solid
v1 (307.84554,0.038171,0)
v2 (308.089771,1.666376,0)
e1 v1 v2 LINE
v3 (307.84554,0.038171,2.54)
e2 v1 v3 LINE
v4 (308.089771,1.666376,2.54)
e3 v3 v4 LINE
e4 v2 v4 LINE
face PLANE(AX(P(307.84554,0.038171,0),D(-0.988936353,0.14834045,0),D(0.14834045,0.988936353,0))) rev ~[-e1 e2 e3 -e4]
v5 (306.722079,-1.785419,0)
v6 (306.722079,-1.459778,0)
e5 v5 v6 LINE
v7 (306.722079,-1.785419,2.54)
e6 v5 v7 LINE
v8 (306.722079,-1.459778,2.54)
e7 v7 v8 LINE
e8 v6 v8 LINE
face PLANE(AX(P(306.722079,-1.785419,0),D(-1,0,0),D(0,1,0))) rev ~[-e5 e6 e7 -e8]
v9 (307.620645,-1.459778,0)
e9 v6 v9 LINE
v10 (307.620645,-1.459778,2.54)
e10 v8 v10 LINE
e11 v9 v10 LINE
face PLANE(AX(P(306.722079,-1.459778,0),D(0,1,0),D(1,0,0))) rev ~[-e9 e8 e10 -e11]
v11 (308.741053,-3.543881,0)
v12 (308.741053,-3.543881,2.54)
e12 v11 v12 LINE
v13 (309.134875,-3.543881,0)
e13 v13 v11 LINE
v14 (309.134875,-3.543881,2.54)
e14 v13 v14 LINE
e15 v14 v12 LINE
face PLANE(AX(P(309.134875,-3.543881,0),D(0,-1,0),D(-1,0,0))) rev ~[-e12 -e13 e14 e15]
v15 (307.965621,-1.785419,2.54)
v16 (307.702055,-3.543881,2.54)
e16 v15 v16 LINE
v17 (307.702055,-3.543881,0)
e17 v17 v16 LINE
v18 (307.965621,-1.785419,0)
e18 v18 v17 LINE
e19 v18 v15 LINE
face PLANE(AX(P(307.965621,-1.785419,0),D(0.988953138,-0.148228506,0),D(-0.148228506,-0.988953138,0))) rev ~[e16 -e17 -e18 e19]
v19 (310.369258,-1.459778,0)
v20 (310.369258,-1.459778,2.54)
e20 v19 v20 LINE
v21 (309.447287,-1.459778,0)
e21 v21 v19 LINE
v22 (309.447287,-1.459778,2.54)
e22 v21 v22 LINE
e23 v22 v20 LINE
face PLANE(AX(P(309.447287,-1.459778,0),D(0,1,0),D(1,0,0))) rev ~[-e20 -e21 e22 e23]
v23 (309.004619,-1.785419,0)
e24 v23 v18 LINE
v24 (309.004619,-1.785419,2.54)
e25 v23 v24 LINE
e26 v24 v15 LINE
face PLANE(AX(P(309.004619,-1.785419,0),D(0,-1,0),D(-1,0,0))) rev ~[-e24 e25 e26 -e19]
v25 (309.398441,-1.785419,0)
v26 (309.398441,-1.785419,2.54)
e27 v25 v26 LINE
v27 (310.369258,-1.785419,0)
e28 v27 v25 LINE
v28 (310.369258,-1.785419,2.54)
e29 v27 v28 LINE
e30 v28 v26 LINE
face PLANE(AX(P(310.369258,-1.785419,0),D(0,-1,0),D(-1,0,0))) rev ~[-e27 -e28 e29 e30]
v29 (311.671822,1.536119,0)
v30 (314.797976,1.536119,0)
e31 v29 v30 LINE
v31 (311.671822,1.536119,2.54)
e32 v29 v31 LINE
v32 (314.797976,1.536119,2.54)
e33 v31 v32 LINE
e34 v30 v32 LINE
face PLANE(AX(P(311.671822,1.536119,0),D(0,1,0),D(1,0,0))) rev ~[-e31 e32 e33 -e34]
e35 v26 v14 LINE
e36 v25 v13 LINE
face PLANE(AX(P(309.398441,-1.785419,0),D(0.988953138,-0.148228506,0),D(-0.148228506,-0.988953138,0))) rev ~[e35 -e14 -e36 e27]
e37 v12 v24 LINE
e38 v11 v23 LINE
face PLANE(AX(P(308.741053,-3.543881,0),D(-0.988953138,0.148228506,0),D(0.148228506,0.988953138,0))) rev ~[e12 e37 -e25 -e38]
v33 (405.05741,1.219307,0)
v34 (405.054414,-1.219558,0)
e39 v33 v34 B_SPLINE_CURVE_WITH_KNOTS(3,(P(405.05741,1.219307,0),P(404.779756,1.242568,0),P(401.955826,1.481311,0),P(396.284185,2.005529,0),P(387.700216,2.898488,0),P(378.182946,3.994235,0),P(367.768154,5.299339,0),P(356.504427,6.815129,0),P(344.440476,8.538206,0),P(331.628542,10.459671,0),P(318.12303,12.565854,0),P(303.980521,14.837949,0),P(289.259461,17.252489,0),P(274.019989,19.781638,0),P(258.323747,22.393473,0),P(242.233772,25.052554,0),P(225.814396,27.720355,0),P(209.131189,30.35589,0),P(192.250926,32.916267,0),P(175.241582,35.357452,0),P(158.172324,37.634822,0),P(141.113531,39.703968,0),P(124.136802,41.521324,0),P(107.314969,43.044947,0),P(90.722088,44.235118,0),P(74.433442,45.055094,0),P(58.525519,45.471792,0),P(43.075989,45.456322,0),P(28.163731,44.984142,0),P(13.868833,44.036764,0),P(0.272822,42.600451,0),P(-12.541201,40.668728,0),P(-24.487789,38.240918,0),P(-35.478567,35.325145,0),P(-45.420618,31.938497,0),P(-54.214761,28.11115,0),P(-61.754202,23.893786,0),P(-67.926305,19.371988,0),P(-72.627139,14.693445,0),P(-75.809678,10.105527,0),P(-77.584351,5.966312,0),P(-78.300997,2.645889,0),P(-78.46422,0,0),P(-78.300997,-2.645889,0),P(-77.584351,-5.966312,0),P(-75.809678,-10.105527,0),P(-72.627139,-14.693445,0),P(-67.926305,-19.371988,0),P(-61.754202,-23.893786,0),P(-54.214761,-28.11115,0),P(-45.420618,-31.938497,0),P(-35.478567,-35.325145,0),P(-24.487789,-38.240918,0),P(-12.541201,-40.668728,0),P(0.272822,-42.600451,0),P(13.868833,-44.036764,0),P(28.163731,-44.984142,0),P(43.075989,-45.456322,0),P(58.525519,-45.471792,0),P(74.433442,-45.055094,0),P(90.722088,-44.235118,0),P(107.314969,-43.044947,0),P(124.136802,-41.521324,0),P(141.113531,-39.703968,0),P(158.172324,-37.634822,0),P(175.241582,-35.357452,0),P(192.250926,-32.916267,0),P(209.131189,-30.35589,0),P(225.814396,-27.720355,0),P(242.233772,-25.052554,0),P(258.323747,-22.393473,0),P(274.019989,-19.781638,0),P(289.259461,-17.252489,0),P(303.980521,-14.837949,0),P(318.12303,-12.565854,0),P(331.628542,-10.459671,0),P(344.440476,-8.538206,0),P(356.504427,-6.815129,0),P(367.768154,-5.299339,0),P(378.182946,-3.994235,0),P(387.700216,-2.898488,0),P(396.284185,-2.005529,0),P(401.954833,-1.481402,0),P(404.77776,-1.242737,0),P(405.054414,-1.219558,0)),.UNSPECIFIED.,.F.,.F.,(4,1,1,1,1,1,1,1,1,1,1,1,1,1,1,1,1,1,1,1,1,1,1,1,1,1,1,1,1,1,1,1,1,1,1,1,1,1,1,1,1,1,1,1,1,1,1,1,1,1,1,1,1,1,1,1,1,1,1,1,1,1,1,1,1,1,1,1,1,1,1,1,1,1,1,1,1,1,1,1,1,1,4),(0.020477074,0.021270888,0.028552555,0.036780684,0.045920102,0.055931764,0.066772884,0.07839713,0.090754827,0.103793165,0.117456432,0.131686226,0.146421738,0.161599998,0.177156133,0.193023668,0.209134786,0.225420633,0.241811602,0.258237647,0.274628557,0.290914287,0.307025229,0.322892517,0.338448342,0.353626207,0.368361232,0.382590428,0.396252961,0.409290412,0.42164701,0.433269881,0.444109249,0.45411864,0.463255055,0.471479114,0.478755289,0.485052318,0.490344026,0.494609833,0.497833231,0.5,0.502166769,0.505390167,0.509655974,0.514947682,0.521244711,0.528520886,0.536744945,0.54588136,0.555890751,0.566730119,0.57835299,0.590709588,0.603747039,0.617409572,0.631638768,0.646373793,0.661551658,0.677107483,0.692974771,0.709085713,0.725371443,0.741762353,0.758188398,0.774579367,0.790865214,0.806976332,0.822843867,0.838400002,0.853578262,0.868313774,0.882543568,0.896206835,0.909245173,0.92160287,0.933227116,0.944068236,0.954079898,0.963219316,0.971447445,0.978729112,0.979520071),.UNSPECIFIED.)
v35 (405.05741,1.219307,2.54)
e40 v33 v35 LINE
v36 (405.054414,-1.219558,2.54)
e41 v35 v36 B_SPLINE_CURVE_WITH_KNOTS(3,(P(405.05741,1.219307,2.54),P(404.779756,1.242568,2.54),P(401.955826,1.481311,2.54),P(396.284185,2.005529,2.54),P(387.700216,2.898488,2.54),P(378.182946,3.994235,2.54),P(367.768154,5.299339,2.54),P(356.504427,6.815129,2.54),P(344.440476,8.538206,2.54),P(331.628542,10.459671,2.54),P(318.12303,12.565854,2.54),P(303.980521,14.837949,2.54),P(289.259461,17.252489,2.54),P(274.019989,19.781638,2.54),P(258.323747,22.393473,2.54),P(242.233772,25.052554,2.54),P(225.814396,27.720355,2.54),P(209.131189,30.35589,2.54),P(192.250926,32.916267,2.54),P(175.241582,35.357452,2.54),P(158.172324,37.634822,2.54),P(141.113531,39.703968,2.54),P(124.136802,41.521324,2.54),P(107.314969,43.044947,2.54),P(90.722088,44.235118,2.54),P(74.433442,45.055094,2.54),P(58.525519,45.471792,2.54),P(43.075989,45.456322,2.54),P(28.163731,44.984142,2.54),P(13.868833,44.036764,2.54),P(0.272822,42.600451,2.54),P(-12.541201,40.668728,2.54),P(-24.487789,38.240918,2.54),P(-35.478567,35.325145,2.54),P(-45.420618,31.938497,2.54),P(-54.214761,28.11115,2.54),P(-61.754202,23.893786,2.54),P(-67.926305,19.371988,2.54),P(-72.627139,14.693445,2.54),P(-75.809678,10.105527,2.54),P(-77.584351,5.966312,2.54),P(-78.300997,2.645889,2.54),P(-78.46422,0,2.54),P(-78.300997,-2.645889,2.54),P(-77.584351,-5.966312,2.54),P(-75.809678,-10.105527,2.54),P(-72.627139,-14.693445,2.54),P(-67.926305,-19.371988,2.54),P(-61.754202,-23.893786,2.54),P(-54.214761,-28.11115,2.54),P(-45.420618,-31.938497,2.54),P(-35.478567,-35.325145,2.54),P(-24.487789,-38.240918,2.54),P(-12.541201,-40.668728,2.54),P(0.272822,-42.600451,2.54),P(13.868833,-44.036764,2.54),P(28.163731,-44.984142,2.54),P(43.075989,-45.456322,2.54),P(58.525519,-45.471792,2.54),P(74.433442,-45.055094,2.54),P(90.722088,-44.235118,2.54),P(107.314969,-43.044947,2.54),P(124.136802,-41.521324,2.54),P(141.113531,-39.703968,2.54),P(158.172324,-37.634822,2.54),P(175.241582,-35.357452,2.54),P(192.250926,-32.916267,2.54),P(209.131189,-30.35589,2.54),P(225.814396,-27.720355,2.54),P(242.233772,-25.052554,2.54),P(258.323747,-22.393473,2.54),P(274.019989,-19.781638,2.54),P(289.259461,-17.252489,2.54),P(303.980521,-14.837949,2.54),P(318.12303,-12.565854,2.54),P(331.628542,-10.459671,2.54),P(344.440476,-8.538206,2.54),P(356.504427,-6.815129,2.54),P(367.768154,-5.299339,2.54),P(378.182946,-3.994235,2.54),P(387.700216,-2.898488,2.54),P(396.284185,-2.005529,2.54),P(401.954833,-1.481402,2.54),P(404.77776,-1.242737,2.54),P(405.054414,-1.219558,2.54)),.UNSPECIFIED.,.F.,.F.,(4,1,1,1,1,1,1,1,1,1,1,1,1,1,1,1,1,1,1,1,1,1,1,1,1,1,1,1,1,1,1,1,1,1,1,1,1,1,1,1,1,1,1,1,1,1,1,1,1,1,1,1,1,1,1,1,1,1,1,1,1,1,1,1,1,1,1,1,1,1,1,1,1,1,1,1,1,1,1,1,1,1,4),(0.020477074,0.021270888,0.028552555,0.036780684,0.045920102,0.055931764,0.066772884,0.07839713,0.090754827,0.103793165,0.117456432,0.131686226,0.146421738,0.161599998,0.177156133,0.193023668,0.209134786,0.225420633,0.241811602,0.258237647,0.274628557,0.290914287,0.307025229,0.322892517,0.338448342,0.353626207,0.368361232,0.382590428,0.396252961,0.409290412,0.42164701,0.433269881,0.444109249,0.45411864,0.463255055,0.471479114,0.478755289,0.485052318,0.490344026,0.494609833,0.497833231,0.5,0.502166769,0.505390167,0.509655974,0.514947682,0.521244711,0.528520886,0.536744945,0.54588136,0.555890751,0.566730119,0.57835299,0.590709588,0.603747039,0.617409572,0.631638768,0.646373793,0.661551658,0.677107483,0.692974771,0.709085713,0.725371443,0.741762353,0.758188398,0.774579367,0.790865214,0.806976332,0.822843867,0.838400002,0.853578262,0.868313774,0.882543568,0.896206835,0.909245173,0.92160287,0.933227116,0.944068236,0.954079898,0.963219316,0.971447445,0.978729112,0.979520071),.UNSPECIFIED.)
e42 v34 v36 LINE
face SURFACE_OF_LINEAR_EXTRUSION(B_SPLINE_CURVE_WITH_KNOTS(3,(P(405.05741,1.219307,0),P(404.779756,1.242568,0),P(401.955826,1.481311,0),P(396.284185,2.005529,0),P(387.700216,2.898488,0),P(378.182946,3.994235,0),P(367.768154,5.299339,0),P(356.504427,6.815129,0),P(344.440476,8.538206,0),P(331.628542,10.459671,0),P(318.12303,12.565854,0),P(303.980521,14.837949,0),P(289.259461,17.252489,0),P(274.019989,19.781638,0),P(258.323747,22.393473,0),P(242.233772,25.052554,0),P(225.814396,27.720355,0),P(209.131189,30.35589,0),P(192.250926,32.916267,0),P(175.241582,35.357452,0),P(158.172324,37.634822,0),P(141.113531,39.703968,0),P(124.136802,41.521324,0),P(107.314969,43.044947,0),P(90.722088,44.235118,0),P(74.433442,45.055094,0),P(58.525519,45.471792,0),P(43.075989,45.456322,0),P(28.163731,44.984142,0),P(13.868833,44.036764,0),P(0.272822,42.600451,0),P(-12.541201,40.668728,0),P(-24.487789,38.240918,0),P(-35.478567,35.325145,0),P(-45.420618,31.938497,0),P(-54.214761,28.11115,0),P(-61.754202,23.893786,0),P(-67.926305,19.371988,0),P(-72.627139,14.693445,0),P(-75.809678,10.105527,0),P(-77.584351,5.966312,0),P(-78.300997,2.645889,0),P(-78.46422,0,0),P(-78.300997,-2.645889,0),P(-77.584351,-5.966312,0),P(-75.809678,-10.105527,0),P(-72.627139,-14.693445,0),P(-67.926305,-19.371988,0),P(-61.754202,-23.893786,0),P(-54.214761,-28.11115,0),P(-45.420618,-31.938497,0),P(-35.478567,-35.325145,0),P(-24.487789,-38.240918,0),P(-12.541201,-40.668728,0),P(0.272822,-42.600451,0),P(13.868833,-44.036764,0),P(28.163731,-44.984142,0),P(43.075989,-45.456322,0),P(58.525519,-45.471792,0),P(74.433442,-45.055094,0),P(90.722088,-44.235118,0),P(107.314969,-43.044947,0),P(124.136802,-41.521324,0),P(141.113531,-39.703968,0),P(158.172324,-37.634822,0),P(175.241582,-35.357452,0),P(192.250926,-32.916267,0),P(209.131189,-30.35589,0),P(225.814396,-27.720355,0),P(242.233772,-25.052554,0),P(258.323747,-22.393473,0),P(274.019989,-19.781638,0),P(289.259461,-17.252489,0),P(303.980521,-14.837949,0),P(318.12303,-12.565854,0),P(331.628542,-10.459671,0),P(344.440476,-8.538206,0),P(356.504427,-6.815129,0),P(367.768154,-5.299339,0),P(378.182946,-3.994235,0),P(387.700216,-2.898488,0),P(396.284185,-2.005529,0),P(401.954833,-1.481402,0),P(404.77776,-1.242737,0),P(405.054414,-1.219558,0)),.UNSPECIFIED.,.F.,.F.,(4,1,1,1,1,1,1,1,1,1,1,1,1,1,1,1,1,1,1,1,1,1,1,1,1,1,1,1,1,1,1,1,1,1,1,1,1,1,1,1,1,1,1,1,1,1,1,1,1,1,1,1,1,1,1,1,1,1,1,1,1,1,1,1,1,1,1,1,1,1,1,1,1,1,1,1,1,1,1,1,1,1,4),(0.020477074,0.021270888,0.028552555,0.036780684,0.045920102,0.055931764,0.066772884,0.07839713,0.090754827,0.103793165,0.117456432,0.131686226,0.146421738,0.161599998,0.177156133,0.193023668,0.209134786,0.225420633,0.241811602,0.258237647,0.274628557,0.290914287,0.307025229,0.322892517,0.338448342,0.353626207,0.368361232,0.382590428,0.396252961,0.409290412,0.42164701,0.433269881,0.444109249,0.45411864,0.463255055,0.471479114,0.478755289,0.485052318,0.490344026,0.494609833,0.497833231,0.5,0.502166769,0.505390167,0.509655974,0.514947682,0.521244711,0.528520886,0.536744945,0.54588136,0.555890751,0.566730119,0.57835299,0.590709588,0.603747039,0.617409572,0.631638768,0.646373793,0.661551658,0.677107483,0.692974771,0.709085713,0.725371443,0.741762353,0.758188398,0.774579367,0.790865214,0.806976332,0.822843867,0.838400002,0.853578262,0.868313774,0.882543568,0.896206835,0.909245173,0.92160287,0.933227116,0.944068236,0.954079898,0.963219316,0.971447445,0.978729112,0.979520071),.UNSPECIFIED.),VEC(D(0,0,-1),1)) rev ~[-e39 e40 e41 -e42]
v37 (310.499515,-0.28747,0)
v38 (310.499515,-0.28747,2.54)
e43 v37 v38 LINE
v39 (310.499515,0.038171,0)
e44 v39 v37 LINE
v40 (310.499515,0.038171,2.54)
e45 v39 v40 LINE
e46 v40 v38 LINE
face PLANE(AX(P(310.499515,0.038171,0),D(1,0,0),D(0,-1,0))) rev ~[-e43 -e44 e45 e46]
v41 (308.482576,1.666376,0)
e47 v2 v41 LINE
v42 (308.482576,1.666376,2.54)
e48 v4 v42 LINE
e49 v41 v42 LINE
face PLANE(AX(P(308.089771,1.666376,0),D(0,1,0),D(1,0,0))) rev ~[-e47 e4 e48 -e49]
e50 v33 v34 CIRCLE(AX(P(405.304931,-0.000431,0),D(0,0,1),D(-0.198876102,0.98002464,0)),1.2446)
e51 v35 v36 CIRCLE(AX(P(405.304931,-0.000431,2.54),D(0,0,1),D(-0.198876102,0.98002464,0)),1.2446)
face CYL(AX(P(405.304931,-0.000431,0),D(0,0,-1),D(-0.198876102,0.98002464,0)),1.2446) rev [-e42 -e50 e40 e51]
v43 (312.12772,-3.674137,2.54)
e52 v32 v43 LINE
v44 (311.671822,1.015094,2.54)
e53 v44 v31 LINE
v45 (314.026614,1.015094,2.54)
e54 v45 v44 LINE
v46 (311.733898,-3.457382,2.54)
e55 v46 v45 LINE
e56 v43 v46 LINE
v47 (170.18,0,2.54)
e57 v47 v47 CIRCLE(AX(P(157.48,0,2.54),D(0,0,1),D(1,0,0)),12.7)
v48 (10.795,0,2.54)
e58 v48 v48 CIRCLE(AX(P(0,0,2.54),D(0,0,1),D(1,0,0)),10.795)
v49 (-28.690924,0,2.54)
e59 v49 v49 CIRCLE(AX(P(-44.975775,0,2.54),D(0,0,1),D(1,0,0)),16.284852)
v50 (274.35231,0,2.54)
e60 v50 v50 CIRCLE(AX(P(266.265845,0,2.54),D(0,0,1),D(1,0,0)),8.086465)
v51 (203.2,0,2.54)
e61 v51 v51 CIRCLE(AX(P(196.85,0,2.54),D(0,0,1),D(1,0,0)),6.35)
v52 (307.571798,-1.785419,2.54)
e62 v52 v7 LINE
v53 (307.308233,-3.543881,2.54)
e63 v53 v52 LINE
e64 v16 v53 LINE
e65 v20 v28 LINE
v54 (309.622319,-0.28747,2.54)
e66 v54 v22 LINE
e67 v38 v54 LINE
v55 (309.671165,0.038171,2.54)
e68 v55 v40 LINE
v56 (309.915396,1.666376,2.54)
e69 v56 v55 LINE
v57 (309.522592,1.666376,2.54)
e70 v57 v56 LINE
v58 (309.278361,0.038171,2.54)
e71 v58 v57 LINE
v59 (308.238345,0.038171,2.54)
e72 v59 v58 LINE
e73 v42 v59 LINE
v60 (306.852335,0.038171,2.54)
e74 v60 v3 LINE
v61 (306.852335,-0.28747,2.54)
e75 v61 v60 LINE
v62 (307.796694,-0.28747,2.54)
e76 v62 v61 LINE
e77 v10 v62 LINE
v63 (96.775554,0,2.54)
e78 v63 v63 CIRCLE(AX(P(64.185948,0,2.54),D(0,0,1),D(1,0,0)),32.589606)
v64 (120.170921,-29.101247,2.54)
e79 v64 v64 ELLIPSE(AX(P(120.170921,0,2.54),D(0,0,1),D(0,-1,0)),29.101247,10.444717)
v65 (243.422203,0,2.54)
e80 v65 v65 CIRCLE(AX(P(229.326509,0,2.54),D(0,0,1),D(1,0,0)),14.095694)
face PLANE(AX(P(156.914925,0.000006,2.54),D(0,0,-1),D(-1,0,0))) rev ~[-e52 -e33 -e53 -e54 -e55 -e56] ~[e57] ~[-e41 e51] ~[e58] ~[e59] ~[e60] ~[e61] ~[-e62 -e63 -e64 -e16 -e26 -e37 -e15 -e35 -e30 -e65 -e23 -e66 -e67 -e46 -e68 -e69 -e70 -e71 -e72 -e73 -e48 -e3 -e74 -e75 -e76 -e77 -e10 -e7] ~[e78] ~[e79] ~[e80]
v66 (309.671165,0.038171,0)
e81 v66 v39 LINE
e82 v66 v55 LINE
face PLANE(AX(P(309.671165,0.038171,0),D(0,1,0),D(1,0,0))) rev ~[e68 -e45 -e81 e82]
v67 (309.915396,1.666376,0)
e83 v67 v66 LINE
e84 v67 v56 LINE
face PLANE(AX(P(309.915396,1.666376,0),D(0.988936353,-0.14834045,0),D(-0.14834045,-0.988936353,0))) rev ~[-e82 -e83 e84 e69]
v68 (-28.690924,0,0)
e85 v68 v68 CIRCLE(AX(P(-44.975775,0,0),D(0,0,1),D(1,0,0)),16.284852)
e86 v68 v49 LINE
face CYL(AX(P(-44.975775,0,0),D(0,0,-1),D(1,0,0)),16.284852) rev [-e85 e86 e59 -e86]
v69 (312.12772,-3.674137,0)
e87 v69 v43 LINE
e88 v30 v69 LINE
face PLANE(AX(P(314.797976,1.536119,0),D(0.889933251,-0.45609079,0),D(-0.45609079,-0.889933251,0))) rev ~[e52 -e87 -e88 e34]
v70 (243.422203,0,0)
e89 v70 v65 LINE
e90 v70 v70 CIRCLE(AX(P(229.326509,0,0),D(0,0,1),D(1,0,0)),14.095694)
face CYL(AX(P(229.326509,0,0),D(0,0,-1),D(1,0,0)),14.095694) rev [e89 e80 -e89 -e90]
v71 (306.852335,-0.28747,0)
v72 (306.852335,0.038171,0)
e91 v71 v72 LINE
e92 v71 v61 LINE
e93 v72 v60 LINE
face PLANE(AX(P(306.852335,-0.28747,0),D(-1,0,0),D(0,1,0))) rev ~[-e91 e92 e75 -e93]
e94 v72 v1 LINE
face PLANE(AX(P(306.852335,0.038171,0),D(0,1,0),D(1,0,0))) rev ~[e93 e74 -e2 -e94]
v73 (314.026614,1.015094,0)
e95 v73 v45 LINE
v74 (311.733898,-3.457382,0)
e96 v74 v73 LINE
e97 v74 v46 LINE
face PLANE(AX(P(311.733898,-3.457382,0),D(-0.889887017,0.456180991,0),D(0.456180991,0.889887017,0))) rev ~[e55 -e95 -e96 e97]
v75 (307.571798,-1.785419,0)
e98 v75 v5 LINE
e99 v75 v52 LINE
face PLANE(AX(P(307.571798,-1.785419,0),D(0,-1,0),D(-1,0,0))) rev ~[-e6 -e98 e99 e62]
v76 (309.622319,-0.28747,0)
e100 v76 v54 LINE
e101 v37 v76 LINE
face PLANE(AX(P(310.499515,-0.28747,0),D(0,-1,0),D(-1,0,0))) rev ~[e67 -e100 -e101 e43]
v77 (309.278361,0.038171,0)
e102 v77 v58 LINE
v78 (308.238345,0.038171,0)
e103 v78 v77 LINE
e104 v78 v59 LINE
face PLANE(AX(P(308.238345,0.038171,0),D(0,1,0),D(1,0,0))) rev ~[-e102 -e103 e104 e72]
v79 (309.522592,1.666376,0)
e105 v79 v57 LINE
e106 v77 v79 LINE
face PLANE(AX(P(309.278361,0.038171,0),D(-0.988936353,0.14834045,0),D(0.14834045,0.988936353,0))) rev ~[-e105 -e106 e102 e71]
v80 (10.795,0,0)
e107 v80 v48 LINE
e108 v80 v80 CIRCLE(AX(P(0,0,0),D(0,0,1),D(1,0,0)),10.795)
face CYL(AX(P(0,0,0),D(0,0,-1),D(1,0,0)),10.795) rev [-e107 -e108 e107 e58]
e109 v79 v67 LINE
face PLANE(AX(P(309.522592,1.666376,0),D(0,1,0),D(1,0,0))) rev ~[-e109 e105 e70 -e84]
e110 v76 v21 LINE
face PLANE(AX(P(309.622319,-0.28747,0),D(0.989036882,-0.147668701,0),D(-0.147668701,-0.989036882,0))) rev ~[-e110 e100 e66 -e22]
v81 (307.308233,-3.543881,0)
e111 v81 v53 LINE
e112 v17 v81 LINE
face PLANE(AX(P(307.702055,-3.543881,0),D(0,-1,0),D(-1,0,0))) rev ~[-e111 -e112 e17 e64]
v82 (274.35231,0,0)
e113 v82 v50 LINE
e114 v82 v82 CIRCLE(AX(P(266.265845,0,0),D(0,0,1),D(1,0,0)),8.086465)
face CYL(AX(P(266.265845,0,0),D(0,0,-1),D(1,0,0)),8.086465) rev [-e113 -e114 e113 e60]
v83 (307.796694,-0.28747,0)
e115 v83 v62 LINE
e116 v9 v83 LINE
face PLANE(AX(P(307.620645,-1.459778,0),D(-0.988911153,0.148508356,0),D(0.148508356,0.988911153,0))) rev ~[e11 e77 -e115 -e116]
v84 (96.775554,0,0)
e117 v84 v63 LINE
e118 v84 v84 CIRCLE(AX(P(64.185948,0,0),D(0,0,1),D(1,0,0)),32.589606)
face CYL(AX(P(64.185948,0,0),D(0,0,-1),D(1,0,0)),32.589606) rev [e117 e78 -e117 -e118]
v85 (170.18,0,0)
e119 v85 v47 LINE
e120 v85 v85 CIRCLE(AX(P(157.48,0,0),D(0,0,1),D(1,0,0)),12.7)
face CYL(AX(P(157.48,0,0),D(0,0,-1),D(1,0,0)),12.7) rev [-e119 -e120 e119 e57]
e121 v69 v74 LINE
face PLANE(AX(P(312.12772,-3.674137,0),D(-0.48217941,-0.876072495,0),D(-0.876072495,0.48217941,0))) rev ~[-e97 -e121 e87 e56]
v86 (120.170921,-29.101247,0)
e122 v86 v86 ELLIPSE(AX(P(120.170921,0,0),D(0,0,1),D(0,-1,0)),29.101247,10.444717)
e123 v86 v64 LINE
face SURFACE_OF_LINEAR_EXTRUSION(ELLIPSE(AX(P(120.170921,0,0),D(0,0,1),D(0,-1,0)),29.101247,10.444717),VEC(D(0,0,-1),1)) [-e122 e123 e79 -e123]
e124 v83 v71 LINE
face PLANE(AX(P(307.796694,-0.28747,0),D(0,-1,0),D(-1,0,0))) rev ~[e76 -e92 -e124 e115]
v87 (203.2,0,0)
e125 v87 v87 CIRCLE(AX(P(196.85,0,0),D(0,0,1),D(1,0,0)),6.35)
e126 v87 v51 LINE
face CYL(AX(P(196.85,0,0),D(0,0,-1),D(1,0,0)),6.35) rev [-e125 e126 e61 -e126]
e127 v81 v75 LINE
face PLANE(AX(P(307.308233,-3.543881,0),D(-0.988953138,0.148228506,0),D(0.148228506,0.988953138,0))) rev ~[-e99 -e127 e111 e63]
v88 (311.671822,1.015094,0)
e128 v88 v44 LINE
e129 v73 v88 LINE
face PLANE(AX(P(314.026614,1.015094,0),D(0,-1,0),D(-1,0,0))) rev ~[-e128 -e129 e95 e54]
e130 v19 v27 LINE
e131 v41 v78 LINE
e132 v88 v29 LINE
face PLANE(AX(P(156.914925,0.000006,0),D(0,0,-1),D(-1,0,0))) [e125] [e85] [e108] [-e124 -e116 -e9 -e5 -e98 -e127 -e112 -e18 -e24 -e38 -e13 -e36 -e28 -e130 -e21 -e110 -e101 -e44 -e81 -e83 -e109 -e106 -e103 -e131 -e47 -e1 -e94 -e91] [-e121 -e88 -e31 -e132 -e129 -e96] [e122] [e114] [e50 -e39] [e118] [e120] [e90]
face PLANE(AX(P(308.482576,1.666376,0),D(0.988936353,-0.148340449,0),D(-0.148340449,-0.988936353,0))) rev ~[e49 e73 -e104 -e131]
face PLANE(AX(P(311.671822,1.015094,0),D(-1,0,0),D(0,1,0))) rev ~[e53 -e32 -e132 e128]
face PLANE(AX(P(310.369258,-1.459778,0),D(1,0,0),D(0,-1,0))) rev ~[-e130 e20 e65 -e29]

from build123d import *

# Parameters (mm, degrees)
SKETCH2_R           = 16.284851911
SKETCH2_R_2         = 8.086464582
SKETCH2_R_3         = 14.095693802
SKETCH2_R_4         = 6.35
SKETCH2_R_5         = 12.7
SKETCH2_R_6         = 32.589606416
SKETCH2_R_7         = 10.795
SKETCH2_RX          = 29.101247041
SKETCH2_RY          = 10.44471683
BOSS_EXTRUDE1_DEPTH = 2.54


with BuildPart() as part:
    # Sketch2 → Boss-Extrude1 (new body)
    with BuildSketch(Plane.XY):
        with BuildLine():
            ThreePointArc((405.057409883, 1.219307274), (404.060332019, 0.001097472), (405.054413981, -1.219558271))
            add(Edge.make_bspline(
                [(405.057409883, 1.219307274), (404.779756403, 1.242568099), (401.955826011, 1.481310599), (396.284184548, 2.00552928), (387.700215517, 2.898488012), (378.182946349, 3.994235028), (367.768153654, 5.299339088), (356.504426933, 6.815129022), (344.440475863, 8.538206481), (331.628541709, 10.45967103), (318.123030174, 12.56585373), (303.980521449, 14.837949085), (289.259460847, 17.252489472), (274.019988904, 19.781638356), (258.323746519, 22.393472599), (242.233771661, 25.052554066), (225.814395691, 27.720355074), (209.13118913, 30.355889946), (192.250926116, 32.91626741), (175.241581744, 35.357451938), (158.172324108, 37.634822456), (141.113531081, 39.703967669), (124.136802012, 41.521324365), (107.314968663, 43.044946686), (90.722088255, 44.235118014), (74.433442027, 45.055093643), (58.525518859, 45.471792128), (43.075989256, 45.45632188), (28.163731472, 44.984141559), (13.868832743, 44.036763855), (0.27282201, 42.600450864), (-12.541200968, 40.668728208), (-24.48778885, 38.240918261), (-35.478566578, 35.325144932), (-45.42061789, 31.938496856), (-54.214761136, 28.111149637), (-61.754202147, 23.893785873), (-67.926305087, 19.371988319), (-72.627138784, 14.69344535), (-75.809678334, 10.105526882), (-77.58435108, 5.966312248), (-78.30099748, 2.645888854), (-78.464220154, 3e-09), (-78.30099748, -2.645888848), (-77.58435108, -5.966312241), (-75.809678334, -10.105526876), (-72.627138784, -14.693445344), (-67.926305087, -19.371988313), (-61.754202147, -23.893785867), (-54.214761136, -28.11114963), (-45.42061789, -31.938496849), (-35.478566578, -35.325144925), (-24.48778885, -38.240918255), (-12.541200968, -40.668728202), (0.27282201, -42.600450858), (13.868832743, -44.036763849), (28.163731472, -44.984141553), (43.075989256, -45.456321874), (58.525518859, -45.471792122), (74.433442027, -45.055093637), (90.722088255, -44.235118008), (107.314968663, -43.04494668), (124.136802012, -41.521324359), (141.113531081, -39.703967663), (158.172324108, -37.63482245), (175.241581744, -35.357451932), (192.250926116, -32.916267404), (209.13118913, -30.35588994), (225.814395691, -27.720355067), (242.233771661, -25.05255406), (258.323746519, -22.393472593), (274.019988904, -19.78163835), (289.259460847, -17.252489465), (303.980521449, -14.837949079), (318.123030174, -12.565853724), (331.628541709, -10.459671024), (344.440475863, -8.538206474), (356.504426933, -6.815129016), (367.768153654, -5.299339082), (378.182946349, -3.994235021), (387.700215517, -2.898488006), (396.284184548, -2.005529273), (401.954832786, -1.481402395), (404.777759589, -1.242736911), (405.054413981, -1.219558271)],
                knots=[0.020477074, 0.020477074, 0.020477074, 0.020477074, 0.021270888, 0.028552555, 0.036780684, 0.045920102, 0.055931764, 0.066772884, 0.07839713, 0.090754827, 0.103793165, 0.117456432, 0.131686226, 0.146421738, 0.161599998, 0.177156133, 0.193023668, 0.209134786, 0.225420633, 0.241811602, 0.258237647, 0.274628557, 0.290914287, 0.307025229, 0.322892517, 0.338448342, 0.353626207, 0.368361232, 0.382590428, 0.396252961, 0.409290412, 0.42164701, 0.433269881, 0.444109249, 0.45411864, 0.463255055, 0.471479114, 0.478755289, 0.485052318, 0.490344026, 0.494609833, 0.497833231, 0.5, 0.502166769, 0.505390167, 0.509655974, 0.514947682, 0.521244711, 0.528520886, 0.536744945, 0.54588136, 0.555890751, 0.566730119, 0.57835299, 0.590709588, 0.603747039, 0.617409572, 0.631638768, 0.646373793, 0.661551658, 0.677107483, 0.692974771, 0.709085713, 0.725371443, 0.741762353, 0.758188398, 0.774579367, 0.790865214, 0.806976332, 0.822843867, 0.838400002, 0.853578262, 0.868313774, 0.882543568, 0.896206835, 0.909245173, 0.92160287, 0.933227116, 0.944068236, 0.954079898, 0.963219316, 0.971447445, 0.978729112, 0.979520071, 0.979520071, 0.979520071, 0.979520071], degree=3))
        make_face()
        with Locations((-44.975775469, 0)):
            Circle(SKETCH2_R, mode=Mode.SUBTRACT)
        with Locations((266.265845268, 0)):
            Circle(SKETCH2_R_2, mode=Mode.SUBTRACT)
        with Locations((229.326509129, 0)):
            Circle(SKETCH2_R_3, mode=Mode.SUBTRACT)
        with Locations((196.85, 0)):
            Circle(SKETCH2_R_4, mode=Mode.SUBTRACT)
        with Locations((157.48, 0)):
            Circle(SKETCH2_R_5, mode=Mode.SUBTRACT)
        with Locations((64.185947574, 0)):
            Circle(SKETCH2_R_6, mode=Mode.SUBTRACT)
        Circle(SKETCH2_R_7, mode=Mode.SUBTRACT)
        with Locations(Location((120.170920999, 0), (0, 0, -90))):
            Ellipse(SKETCH2_RX, SKETCH2_RY, mode=Mode.SUBTRACT)
        Polygon((310.369258356, -1.459777969), (310.369258356, -1.785418996), (309.398441044, -1.785418996), (309.134875343, -3.543880534), (308.74105323, -3.543880534), (309.004618931, -1.785418996), (307.965620532, -1.785418996), (307.702054831, -3.543880534), (307.308232718, -3.543880534), (307.571798419, -1.785418996), (306.722078869, -1.785418996), (306.722078869, -1.459777969), (307.62064457, -1.459777969), (307.796694245, -0.287470281), (306.85233527, -0.287470281), (306.85233527, 0.038170745), (307.845540398, 0.038170745), (308.089771162, 1.666375871), (308.482575649, 1.666375871), (308.238344886, 0.038170745), (309.278360911, 0.038170745), (309.522591675, 1.666375871), (309.915396162, 1.666375871), (309.671165398, 0.038170745), (310.499514758, 0.038170745), (310.499514758, -0.287470281), (309.622319245, -0.287470281), (309.447287195, -1.459777969), align=None, mode=Mode.SUBTRACT)
        Polygon((311.671822456, 1.536119468), (314.797976296, 1.536119468), (312.127719894, -3.674136944), (311.73389777, -3.457382143), (314.02661412, 1.015093819), (311.671822456, 1.015093819), align=None, mode=Mode.SUBTRACT)
    extrude(amount=BOSS_EXTRUDE1_DEPTH)


solid = part.part
